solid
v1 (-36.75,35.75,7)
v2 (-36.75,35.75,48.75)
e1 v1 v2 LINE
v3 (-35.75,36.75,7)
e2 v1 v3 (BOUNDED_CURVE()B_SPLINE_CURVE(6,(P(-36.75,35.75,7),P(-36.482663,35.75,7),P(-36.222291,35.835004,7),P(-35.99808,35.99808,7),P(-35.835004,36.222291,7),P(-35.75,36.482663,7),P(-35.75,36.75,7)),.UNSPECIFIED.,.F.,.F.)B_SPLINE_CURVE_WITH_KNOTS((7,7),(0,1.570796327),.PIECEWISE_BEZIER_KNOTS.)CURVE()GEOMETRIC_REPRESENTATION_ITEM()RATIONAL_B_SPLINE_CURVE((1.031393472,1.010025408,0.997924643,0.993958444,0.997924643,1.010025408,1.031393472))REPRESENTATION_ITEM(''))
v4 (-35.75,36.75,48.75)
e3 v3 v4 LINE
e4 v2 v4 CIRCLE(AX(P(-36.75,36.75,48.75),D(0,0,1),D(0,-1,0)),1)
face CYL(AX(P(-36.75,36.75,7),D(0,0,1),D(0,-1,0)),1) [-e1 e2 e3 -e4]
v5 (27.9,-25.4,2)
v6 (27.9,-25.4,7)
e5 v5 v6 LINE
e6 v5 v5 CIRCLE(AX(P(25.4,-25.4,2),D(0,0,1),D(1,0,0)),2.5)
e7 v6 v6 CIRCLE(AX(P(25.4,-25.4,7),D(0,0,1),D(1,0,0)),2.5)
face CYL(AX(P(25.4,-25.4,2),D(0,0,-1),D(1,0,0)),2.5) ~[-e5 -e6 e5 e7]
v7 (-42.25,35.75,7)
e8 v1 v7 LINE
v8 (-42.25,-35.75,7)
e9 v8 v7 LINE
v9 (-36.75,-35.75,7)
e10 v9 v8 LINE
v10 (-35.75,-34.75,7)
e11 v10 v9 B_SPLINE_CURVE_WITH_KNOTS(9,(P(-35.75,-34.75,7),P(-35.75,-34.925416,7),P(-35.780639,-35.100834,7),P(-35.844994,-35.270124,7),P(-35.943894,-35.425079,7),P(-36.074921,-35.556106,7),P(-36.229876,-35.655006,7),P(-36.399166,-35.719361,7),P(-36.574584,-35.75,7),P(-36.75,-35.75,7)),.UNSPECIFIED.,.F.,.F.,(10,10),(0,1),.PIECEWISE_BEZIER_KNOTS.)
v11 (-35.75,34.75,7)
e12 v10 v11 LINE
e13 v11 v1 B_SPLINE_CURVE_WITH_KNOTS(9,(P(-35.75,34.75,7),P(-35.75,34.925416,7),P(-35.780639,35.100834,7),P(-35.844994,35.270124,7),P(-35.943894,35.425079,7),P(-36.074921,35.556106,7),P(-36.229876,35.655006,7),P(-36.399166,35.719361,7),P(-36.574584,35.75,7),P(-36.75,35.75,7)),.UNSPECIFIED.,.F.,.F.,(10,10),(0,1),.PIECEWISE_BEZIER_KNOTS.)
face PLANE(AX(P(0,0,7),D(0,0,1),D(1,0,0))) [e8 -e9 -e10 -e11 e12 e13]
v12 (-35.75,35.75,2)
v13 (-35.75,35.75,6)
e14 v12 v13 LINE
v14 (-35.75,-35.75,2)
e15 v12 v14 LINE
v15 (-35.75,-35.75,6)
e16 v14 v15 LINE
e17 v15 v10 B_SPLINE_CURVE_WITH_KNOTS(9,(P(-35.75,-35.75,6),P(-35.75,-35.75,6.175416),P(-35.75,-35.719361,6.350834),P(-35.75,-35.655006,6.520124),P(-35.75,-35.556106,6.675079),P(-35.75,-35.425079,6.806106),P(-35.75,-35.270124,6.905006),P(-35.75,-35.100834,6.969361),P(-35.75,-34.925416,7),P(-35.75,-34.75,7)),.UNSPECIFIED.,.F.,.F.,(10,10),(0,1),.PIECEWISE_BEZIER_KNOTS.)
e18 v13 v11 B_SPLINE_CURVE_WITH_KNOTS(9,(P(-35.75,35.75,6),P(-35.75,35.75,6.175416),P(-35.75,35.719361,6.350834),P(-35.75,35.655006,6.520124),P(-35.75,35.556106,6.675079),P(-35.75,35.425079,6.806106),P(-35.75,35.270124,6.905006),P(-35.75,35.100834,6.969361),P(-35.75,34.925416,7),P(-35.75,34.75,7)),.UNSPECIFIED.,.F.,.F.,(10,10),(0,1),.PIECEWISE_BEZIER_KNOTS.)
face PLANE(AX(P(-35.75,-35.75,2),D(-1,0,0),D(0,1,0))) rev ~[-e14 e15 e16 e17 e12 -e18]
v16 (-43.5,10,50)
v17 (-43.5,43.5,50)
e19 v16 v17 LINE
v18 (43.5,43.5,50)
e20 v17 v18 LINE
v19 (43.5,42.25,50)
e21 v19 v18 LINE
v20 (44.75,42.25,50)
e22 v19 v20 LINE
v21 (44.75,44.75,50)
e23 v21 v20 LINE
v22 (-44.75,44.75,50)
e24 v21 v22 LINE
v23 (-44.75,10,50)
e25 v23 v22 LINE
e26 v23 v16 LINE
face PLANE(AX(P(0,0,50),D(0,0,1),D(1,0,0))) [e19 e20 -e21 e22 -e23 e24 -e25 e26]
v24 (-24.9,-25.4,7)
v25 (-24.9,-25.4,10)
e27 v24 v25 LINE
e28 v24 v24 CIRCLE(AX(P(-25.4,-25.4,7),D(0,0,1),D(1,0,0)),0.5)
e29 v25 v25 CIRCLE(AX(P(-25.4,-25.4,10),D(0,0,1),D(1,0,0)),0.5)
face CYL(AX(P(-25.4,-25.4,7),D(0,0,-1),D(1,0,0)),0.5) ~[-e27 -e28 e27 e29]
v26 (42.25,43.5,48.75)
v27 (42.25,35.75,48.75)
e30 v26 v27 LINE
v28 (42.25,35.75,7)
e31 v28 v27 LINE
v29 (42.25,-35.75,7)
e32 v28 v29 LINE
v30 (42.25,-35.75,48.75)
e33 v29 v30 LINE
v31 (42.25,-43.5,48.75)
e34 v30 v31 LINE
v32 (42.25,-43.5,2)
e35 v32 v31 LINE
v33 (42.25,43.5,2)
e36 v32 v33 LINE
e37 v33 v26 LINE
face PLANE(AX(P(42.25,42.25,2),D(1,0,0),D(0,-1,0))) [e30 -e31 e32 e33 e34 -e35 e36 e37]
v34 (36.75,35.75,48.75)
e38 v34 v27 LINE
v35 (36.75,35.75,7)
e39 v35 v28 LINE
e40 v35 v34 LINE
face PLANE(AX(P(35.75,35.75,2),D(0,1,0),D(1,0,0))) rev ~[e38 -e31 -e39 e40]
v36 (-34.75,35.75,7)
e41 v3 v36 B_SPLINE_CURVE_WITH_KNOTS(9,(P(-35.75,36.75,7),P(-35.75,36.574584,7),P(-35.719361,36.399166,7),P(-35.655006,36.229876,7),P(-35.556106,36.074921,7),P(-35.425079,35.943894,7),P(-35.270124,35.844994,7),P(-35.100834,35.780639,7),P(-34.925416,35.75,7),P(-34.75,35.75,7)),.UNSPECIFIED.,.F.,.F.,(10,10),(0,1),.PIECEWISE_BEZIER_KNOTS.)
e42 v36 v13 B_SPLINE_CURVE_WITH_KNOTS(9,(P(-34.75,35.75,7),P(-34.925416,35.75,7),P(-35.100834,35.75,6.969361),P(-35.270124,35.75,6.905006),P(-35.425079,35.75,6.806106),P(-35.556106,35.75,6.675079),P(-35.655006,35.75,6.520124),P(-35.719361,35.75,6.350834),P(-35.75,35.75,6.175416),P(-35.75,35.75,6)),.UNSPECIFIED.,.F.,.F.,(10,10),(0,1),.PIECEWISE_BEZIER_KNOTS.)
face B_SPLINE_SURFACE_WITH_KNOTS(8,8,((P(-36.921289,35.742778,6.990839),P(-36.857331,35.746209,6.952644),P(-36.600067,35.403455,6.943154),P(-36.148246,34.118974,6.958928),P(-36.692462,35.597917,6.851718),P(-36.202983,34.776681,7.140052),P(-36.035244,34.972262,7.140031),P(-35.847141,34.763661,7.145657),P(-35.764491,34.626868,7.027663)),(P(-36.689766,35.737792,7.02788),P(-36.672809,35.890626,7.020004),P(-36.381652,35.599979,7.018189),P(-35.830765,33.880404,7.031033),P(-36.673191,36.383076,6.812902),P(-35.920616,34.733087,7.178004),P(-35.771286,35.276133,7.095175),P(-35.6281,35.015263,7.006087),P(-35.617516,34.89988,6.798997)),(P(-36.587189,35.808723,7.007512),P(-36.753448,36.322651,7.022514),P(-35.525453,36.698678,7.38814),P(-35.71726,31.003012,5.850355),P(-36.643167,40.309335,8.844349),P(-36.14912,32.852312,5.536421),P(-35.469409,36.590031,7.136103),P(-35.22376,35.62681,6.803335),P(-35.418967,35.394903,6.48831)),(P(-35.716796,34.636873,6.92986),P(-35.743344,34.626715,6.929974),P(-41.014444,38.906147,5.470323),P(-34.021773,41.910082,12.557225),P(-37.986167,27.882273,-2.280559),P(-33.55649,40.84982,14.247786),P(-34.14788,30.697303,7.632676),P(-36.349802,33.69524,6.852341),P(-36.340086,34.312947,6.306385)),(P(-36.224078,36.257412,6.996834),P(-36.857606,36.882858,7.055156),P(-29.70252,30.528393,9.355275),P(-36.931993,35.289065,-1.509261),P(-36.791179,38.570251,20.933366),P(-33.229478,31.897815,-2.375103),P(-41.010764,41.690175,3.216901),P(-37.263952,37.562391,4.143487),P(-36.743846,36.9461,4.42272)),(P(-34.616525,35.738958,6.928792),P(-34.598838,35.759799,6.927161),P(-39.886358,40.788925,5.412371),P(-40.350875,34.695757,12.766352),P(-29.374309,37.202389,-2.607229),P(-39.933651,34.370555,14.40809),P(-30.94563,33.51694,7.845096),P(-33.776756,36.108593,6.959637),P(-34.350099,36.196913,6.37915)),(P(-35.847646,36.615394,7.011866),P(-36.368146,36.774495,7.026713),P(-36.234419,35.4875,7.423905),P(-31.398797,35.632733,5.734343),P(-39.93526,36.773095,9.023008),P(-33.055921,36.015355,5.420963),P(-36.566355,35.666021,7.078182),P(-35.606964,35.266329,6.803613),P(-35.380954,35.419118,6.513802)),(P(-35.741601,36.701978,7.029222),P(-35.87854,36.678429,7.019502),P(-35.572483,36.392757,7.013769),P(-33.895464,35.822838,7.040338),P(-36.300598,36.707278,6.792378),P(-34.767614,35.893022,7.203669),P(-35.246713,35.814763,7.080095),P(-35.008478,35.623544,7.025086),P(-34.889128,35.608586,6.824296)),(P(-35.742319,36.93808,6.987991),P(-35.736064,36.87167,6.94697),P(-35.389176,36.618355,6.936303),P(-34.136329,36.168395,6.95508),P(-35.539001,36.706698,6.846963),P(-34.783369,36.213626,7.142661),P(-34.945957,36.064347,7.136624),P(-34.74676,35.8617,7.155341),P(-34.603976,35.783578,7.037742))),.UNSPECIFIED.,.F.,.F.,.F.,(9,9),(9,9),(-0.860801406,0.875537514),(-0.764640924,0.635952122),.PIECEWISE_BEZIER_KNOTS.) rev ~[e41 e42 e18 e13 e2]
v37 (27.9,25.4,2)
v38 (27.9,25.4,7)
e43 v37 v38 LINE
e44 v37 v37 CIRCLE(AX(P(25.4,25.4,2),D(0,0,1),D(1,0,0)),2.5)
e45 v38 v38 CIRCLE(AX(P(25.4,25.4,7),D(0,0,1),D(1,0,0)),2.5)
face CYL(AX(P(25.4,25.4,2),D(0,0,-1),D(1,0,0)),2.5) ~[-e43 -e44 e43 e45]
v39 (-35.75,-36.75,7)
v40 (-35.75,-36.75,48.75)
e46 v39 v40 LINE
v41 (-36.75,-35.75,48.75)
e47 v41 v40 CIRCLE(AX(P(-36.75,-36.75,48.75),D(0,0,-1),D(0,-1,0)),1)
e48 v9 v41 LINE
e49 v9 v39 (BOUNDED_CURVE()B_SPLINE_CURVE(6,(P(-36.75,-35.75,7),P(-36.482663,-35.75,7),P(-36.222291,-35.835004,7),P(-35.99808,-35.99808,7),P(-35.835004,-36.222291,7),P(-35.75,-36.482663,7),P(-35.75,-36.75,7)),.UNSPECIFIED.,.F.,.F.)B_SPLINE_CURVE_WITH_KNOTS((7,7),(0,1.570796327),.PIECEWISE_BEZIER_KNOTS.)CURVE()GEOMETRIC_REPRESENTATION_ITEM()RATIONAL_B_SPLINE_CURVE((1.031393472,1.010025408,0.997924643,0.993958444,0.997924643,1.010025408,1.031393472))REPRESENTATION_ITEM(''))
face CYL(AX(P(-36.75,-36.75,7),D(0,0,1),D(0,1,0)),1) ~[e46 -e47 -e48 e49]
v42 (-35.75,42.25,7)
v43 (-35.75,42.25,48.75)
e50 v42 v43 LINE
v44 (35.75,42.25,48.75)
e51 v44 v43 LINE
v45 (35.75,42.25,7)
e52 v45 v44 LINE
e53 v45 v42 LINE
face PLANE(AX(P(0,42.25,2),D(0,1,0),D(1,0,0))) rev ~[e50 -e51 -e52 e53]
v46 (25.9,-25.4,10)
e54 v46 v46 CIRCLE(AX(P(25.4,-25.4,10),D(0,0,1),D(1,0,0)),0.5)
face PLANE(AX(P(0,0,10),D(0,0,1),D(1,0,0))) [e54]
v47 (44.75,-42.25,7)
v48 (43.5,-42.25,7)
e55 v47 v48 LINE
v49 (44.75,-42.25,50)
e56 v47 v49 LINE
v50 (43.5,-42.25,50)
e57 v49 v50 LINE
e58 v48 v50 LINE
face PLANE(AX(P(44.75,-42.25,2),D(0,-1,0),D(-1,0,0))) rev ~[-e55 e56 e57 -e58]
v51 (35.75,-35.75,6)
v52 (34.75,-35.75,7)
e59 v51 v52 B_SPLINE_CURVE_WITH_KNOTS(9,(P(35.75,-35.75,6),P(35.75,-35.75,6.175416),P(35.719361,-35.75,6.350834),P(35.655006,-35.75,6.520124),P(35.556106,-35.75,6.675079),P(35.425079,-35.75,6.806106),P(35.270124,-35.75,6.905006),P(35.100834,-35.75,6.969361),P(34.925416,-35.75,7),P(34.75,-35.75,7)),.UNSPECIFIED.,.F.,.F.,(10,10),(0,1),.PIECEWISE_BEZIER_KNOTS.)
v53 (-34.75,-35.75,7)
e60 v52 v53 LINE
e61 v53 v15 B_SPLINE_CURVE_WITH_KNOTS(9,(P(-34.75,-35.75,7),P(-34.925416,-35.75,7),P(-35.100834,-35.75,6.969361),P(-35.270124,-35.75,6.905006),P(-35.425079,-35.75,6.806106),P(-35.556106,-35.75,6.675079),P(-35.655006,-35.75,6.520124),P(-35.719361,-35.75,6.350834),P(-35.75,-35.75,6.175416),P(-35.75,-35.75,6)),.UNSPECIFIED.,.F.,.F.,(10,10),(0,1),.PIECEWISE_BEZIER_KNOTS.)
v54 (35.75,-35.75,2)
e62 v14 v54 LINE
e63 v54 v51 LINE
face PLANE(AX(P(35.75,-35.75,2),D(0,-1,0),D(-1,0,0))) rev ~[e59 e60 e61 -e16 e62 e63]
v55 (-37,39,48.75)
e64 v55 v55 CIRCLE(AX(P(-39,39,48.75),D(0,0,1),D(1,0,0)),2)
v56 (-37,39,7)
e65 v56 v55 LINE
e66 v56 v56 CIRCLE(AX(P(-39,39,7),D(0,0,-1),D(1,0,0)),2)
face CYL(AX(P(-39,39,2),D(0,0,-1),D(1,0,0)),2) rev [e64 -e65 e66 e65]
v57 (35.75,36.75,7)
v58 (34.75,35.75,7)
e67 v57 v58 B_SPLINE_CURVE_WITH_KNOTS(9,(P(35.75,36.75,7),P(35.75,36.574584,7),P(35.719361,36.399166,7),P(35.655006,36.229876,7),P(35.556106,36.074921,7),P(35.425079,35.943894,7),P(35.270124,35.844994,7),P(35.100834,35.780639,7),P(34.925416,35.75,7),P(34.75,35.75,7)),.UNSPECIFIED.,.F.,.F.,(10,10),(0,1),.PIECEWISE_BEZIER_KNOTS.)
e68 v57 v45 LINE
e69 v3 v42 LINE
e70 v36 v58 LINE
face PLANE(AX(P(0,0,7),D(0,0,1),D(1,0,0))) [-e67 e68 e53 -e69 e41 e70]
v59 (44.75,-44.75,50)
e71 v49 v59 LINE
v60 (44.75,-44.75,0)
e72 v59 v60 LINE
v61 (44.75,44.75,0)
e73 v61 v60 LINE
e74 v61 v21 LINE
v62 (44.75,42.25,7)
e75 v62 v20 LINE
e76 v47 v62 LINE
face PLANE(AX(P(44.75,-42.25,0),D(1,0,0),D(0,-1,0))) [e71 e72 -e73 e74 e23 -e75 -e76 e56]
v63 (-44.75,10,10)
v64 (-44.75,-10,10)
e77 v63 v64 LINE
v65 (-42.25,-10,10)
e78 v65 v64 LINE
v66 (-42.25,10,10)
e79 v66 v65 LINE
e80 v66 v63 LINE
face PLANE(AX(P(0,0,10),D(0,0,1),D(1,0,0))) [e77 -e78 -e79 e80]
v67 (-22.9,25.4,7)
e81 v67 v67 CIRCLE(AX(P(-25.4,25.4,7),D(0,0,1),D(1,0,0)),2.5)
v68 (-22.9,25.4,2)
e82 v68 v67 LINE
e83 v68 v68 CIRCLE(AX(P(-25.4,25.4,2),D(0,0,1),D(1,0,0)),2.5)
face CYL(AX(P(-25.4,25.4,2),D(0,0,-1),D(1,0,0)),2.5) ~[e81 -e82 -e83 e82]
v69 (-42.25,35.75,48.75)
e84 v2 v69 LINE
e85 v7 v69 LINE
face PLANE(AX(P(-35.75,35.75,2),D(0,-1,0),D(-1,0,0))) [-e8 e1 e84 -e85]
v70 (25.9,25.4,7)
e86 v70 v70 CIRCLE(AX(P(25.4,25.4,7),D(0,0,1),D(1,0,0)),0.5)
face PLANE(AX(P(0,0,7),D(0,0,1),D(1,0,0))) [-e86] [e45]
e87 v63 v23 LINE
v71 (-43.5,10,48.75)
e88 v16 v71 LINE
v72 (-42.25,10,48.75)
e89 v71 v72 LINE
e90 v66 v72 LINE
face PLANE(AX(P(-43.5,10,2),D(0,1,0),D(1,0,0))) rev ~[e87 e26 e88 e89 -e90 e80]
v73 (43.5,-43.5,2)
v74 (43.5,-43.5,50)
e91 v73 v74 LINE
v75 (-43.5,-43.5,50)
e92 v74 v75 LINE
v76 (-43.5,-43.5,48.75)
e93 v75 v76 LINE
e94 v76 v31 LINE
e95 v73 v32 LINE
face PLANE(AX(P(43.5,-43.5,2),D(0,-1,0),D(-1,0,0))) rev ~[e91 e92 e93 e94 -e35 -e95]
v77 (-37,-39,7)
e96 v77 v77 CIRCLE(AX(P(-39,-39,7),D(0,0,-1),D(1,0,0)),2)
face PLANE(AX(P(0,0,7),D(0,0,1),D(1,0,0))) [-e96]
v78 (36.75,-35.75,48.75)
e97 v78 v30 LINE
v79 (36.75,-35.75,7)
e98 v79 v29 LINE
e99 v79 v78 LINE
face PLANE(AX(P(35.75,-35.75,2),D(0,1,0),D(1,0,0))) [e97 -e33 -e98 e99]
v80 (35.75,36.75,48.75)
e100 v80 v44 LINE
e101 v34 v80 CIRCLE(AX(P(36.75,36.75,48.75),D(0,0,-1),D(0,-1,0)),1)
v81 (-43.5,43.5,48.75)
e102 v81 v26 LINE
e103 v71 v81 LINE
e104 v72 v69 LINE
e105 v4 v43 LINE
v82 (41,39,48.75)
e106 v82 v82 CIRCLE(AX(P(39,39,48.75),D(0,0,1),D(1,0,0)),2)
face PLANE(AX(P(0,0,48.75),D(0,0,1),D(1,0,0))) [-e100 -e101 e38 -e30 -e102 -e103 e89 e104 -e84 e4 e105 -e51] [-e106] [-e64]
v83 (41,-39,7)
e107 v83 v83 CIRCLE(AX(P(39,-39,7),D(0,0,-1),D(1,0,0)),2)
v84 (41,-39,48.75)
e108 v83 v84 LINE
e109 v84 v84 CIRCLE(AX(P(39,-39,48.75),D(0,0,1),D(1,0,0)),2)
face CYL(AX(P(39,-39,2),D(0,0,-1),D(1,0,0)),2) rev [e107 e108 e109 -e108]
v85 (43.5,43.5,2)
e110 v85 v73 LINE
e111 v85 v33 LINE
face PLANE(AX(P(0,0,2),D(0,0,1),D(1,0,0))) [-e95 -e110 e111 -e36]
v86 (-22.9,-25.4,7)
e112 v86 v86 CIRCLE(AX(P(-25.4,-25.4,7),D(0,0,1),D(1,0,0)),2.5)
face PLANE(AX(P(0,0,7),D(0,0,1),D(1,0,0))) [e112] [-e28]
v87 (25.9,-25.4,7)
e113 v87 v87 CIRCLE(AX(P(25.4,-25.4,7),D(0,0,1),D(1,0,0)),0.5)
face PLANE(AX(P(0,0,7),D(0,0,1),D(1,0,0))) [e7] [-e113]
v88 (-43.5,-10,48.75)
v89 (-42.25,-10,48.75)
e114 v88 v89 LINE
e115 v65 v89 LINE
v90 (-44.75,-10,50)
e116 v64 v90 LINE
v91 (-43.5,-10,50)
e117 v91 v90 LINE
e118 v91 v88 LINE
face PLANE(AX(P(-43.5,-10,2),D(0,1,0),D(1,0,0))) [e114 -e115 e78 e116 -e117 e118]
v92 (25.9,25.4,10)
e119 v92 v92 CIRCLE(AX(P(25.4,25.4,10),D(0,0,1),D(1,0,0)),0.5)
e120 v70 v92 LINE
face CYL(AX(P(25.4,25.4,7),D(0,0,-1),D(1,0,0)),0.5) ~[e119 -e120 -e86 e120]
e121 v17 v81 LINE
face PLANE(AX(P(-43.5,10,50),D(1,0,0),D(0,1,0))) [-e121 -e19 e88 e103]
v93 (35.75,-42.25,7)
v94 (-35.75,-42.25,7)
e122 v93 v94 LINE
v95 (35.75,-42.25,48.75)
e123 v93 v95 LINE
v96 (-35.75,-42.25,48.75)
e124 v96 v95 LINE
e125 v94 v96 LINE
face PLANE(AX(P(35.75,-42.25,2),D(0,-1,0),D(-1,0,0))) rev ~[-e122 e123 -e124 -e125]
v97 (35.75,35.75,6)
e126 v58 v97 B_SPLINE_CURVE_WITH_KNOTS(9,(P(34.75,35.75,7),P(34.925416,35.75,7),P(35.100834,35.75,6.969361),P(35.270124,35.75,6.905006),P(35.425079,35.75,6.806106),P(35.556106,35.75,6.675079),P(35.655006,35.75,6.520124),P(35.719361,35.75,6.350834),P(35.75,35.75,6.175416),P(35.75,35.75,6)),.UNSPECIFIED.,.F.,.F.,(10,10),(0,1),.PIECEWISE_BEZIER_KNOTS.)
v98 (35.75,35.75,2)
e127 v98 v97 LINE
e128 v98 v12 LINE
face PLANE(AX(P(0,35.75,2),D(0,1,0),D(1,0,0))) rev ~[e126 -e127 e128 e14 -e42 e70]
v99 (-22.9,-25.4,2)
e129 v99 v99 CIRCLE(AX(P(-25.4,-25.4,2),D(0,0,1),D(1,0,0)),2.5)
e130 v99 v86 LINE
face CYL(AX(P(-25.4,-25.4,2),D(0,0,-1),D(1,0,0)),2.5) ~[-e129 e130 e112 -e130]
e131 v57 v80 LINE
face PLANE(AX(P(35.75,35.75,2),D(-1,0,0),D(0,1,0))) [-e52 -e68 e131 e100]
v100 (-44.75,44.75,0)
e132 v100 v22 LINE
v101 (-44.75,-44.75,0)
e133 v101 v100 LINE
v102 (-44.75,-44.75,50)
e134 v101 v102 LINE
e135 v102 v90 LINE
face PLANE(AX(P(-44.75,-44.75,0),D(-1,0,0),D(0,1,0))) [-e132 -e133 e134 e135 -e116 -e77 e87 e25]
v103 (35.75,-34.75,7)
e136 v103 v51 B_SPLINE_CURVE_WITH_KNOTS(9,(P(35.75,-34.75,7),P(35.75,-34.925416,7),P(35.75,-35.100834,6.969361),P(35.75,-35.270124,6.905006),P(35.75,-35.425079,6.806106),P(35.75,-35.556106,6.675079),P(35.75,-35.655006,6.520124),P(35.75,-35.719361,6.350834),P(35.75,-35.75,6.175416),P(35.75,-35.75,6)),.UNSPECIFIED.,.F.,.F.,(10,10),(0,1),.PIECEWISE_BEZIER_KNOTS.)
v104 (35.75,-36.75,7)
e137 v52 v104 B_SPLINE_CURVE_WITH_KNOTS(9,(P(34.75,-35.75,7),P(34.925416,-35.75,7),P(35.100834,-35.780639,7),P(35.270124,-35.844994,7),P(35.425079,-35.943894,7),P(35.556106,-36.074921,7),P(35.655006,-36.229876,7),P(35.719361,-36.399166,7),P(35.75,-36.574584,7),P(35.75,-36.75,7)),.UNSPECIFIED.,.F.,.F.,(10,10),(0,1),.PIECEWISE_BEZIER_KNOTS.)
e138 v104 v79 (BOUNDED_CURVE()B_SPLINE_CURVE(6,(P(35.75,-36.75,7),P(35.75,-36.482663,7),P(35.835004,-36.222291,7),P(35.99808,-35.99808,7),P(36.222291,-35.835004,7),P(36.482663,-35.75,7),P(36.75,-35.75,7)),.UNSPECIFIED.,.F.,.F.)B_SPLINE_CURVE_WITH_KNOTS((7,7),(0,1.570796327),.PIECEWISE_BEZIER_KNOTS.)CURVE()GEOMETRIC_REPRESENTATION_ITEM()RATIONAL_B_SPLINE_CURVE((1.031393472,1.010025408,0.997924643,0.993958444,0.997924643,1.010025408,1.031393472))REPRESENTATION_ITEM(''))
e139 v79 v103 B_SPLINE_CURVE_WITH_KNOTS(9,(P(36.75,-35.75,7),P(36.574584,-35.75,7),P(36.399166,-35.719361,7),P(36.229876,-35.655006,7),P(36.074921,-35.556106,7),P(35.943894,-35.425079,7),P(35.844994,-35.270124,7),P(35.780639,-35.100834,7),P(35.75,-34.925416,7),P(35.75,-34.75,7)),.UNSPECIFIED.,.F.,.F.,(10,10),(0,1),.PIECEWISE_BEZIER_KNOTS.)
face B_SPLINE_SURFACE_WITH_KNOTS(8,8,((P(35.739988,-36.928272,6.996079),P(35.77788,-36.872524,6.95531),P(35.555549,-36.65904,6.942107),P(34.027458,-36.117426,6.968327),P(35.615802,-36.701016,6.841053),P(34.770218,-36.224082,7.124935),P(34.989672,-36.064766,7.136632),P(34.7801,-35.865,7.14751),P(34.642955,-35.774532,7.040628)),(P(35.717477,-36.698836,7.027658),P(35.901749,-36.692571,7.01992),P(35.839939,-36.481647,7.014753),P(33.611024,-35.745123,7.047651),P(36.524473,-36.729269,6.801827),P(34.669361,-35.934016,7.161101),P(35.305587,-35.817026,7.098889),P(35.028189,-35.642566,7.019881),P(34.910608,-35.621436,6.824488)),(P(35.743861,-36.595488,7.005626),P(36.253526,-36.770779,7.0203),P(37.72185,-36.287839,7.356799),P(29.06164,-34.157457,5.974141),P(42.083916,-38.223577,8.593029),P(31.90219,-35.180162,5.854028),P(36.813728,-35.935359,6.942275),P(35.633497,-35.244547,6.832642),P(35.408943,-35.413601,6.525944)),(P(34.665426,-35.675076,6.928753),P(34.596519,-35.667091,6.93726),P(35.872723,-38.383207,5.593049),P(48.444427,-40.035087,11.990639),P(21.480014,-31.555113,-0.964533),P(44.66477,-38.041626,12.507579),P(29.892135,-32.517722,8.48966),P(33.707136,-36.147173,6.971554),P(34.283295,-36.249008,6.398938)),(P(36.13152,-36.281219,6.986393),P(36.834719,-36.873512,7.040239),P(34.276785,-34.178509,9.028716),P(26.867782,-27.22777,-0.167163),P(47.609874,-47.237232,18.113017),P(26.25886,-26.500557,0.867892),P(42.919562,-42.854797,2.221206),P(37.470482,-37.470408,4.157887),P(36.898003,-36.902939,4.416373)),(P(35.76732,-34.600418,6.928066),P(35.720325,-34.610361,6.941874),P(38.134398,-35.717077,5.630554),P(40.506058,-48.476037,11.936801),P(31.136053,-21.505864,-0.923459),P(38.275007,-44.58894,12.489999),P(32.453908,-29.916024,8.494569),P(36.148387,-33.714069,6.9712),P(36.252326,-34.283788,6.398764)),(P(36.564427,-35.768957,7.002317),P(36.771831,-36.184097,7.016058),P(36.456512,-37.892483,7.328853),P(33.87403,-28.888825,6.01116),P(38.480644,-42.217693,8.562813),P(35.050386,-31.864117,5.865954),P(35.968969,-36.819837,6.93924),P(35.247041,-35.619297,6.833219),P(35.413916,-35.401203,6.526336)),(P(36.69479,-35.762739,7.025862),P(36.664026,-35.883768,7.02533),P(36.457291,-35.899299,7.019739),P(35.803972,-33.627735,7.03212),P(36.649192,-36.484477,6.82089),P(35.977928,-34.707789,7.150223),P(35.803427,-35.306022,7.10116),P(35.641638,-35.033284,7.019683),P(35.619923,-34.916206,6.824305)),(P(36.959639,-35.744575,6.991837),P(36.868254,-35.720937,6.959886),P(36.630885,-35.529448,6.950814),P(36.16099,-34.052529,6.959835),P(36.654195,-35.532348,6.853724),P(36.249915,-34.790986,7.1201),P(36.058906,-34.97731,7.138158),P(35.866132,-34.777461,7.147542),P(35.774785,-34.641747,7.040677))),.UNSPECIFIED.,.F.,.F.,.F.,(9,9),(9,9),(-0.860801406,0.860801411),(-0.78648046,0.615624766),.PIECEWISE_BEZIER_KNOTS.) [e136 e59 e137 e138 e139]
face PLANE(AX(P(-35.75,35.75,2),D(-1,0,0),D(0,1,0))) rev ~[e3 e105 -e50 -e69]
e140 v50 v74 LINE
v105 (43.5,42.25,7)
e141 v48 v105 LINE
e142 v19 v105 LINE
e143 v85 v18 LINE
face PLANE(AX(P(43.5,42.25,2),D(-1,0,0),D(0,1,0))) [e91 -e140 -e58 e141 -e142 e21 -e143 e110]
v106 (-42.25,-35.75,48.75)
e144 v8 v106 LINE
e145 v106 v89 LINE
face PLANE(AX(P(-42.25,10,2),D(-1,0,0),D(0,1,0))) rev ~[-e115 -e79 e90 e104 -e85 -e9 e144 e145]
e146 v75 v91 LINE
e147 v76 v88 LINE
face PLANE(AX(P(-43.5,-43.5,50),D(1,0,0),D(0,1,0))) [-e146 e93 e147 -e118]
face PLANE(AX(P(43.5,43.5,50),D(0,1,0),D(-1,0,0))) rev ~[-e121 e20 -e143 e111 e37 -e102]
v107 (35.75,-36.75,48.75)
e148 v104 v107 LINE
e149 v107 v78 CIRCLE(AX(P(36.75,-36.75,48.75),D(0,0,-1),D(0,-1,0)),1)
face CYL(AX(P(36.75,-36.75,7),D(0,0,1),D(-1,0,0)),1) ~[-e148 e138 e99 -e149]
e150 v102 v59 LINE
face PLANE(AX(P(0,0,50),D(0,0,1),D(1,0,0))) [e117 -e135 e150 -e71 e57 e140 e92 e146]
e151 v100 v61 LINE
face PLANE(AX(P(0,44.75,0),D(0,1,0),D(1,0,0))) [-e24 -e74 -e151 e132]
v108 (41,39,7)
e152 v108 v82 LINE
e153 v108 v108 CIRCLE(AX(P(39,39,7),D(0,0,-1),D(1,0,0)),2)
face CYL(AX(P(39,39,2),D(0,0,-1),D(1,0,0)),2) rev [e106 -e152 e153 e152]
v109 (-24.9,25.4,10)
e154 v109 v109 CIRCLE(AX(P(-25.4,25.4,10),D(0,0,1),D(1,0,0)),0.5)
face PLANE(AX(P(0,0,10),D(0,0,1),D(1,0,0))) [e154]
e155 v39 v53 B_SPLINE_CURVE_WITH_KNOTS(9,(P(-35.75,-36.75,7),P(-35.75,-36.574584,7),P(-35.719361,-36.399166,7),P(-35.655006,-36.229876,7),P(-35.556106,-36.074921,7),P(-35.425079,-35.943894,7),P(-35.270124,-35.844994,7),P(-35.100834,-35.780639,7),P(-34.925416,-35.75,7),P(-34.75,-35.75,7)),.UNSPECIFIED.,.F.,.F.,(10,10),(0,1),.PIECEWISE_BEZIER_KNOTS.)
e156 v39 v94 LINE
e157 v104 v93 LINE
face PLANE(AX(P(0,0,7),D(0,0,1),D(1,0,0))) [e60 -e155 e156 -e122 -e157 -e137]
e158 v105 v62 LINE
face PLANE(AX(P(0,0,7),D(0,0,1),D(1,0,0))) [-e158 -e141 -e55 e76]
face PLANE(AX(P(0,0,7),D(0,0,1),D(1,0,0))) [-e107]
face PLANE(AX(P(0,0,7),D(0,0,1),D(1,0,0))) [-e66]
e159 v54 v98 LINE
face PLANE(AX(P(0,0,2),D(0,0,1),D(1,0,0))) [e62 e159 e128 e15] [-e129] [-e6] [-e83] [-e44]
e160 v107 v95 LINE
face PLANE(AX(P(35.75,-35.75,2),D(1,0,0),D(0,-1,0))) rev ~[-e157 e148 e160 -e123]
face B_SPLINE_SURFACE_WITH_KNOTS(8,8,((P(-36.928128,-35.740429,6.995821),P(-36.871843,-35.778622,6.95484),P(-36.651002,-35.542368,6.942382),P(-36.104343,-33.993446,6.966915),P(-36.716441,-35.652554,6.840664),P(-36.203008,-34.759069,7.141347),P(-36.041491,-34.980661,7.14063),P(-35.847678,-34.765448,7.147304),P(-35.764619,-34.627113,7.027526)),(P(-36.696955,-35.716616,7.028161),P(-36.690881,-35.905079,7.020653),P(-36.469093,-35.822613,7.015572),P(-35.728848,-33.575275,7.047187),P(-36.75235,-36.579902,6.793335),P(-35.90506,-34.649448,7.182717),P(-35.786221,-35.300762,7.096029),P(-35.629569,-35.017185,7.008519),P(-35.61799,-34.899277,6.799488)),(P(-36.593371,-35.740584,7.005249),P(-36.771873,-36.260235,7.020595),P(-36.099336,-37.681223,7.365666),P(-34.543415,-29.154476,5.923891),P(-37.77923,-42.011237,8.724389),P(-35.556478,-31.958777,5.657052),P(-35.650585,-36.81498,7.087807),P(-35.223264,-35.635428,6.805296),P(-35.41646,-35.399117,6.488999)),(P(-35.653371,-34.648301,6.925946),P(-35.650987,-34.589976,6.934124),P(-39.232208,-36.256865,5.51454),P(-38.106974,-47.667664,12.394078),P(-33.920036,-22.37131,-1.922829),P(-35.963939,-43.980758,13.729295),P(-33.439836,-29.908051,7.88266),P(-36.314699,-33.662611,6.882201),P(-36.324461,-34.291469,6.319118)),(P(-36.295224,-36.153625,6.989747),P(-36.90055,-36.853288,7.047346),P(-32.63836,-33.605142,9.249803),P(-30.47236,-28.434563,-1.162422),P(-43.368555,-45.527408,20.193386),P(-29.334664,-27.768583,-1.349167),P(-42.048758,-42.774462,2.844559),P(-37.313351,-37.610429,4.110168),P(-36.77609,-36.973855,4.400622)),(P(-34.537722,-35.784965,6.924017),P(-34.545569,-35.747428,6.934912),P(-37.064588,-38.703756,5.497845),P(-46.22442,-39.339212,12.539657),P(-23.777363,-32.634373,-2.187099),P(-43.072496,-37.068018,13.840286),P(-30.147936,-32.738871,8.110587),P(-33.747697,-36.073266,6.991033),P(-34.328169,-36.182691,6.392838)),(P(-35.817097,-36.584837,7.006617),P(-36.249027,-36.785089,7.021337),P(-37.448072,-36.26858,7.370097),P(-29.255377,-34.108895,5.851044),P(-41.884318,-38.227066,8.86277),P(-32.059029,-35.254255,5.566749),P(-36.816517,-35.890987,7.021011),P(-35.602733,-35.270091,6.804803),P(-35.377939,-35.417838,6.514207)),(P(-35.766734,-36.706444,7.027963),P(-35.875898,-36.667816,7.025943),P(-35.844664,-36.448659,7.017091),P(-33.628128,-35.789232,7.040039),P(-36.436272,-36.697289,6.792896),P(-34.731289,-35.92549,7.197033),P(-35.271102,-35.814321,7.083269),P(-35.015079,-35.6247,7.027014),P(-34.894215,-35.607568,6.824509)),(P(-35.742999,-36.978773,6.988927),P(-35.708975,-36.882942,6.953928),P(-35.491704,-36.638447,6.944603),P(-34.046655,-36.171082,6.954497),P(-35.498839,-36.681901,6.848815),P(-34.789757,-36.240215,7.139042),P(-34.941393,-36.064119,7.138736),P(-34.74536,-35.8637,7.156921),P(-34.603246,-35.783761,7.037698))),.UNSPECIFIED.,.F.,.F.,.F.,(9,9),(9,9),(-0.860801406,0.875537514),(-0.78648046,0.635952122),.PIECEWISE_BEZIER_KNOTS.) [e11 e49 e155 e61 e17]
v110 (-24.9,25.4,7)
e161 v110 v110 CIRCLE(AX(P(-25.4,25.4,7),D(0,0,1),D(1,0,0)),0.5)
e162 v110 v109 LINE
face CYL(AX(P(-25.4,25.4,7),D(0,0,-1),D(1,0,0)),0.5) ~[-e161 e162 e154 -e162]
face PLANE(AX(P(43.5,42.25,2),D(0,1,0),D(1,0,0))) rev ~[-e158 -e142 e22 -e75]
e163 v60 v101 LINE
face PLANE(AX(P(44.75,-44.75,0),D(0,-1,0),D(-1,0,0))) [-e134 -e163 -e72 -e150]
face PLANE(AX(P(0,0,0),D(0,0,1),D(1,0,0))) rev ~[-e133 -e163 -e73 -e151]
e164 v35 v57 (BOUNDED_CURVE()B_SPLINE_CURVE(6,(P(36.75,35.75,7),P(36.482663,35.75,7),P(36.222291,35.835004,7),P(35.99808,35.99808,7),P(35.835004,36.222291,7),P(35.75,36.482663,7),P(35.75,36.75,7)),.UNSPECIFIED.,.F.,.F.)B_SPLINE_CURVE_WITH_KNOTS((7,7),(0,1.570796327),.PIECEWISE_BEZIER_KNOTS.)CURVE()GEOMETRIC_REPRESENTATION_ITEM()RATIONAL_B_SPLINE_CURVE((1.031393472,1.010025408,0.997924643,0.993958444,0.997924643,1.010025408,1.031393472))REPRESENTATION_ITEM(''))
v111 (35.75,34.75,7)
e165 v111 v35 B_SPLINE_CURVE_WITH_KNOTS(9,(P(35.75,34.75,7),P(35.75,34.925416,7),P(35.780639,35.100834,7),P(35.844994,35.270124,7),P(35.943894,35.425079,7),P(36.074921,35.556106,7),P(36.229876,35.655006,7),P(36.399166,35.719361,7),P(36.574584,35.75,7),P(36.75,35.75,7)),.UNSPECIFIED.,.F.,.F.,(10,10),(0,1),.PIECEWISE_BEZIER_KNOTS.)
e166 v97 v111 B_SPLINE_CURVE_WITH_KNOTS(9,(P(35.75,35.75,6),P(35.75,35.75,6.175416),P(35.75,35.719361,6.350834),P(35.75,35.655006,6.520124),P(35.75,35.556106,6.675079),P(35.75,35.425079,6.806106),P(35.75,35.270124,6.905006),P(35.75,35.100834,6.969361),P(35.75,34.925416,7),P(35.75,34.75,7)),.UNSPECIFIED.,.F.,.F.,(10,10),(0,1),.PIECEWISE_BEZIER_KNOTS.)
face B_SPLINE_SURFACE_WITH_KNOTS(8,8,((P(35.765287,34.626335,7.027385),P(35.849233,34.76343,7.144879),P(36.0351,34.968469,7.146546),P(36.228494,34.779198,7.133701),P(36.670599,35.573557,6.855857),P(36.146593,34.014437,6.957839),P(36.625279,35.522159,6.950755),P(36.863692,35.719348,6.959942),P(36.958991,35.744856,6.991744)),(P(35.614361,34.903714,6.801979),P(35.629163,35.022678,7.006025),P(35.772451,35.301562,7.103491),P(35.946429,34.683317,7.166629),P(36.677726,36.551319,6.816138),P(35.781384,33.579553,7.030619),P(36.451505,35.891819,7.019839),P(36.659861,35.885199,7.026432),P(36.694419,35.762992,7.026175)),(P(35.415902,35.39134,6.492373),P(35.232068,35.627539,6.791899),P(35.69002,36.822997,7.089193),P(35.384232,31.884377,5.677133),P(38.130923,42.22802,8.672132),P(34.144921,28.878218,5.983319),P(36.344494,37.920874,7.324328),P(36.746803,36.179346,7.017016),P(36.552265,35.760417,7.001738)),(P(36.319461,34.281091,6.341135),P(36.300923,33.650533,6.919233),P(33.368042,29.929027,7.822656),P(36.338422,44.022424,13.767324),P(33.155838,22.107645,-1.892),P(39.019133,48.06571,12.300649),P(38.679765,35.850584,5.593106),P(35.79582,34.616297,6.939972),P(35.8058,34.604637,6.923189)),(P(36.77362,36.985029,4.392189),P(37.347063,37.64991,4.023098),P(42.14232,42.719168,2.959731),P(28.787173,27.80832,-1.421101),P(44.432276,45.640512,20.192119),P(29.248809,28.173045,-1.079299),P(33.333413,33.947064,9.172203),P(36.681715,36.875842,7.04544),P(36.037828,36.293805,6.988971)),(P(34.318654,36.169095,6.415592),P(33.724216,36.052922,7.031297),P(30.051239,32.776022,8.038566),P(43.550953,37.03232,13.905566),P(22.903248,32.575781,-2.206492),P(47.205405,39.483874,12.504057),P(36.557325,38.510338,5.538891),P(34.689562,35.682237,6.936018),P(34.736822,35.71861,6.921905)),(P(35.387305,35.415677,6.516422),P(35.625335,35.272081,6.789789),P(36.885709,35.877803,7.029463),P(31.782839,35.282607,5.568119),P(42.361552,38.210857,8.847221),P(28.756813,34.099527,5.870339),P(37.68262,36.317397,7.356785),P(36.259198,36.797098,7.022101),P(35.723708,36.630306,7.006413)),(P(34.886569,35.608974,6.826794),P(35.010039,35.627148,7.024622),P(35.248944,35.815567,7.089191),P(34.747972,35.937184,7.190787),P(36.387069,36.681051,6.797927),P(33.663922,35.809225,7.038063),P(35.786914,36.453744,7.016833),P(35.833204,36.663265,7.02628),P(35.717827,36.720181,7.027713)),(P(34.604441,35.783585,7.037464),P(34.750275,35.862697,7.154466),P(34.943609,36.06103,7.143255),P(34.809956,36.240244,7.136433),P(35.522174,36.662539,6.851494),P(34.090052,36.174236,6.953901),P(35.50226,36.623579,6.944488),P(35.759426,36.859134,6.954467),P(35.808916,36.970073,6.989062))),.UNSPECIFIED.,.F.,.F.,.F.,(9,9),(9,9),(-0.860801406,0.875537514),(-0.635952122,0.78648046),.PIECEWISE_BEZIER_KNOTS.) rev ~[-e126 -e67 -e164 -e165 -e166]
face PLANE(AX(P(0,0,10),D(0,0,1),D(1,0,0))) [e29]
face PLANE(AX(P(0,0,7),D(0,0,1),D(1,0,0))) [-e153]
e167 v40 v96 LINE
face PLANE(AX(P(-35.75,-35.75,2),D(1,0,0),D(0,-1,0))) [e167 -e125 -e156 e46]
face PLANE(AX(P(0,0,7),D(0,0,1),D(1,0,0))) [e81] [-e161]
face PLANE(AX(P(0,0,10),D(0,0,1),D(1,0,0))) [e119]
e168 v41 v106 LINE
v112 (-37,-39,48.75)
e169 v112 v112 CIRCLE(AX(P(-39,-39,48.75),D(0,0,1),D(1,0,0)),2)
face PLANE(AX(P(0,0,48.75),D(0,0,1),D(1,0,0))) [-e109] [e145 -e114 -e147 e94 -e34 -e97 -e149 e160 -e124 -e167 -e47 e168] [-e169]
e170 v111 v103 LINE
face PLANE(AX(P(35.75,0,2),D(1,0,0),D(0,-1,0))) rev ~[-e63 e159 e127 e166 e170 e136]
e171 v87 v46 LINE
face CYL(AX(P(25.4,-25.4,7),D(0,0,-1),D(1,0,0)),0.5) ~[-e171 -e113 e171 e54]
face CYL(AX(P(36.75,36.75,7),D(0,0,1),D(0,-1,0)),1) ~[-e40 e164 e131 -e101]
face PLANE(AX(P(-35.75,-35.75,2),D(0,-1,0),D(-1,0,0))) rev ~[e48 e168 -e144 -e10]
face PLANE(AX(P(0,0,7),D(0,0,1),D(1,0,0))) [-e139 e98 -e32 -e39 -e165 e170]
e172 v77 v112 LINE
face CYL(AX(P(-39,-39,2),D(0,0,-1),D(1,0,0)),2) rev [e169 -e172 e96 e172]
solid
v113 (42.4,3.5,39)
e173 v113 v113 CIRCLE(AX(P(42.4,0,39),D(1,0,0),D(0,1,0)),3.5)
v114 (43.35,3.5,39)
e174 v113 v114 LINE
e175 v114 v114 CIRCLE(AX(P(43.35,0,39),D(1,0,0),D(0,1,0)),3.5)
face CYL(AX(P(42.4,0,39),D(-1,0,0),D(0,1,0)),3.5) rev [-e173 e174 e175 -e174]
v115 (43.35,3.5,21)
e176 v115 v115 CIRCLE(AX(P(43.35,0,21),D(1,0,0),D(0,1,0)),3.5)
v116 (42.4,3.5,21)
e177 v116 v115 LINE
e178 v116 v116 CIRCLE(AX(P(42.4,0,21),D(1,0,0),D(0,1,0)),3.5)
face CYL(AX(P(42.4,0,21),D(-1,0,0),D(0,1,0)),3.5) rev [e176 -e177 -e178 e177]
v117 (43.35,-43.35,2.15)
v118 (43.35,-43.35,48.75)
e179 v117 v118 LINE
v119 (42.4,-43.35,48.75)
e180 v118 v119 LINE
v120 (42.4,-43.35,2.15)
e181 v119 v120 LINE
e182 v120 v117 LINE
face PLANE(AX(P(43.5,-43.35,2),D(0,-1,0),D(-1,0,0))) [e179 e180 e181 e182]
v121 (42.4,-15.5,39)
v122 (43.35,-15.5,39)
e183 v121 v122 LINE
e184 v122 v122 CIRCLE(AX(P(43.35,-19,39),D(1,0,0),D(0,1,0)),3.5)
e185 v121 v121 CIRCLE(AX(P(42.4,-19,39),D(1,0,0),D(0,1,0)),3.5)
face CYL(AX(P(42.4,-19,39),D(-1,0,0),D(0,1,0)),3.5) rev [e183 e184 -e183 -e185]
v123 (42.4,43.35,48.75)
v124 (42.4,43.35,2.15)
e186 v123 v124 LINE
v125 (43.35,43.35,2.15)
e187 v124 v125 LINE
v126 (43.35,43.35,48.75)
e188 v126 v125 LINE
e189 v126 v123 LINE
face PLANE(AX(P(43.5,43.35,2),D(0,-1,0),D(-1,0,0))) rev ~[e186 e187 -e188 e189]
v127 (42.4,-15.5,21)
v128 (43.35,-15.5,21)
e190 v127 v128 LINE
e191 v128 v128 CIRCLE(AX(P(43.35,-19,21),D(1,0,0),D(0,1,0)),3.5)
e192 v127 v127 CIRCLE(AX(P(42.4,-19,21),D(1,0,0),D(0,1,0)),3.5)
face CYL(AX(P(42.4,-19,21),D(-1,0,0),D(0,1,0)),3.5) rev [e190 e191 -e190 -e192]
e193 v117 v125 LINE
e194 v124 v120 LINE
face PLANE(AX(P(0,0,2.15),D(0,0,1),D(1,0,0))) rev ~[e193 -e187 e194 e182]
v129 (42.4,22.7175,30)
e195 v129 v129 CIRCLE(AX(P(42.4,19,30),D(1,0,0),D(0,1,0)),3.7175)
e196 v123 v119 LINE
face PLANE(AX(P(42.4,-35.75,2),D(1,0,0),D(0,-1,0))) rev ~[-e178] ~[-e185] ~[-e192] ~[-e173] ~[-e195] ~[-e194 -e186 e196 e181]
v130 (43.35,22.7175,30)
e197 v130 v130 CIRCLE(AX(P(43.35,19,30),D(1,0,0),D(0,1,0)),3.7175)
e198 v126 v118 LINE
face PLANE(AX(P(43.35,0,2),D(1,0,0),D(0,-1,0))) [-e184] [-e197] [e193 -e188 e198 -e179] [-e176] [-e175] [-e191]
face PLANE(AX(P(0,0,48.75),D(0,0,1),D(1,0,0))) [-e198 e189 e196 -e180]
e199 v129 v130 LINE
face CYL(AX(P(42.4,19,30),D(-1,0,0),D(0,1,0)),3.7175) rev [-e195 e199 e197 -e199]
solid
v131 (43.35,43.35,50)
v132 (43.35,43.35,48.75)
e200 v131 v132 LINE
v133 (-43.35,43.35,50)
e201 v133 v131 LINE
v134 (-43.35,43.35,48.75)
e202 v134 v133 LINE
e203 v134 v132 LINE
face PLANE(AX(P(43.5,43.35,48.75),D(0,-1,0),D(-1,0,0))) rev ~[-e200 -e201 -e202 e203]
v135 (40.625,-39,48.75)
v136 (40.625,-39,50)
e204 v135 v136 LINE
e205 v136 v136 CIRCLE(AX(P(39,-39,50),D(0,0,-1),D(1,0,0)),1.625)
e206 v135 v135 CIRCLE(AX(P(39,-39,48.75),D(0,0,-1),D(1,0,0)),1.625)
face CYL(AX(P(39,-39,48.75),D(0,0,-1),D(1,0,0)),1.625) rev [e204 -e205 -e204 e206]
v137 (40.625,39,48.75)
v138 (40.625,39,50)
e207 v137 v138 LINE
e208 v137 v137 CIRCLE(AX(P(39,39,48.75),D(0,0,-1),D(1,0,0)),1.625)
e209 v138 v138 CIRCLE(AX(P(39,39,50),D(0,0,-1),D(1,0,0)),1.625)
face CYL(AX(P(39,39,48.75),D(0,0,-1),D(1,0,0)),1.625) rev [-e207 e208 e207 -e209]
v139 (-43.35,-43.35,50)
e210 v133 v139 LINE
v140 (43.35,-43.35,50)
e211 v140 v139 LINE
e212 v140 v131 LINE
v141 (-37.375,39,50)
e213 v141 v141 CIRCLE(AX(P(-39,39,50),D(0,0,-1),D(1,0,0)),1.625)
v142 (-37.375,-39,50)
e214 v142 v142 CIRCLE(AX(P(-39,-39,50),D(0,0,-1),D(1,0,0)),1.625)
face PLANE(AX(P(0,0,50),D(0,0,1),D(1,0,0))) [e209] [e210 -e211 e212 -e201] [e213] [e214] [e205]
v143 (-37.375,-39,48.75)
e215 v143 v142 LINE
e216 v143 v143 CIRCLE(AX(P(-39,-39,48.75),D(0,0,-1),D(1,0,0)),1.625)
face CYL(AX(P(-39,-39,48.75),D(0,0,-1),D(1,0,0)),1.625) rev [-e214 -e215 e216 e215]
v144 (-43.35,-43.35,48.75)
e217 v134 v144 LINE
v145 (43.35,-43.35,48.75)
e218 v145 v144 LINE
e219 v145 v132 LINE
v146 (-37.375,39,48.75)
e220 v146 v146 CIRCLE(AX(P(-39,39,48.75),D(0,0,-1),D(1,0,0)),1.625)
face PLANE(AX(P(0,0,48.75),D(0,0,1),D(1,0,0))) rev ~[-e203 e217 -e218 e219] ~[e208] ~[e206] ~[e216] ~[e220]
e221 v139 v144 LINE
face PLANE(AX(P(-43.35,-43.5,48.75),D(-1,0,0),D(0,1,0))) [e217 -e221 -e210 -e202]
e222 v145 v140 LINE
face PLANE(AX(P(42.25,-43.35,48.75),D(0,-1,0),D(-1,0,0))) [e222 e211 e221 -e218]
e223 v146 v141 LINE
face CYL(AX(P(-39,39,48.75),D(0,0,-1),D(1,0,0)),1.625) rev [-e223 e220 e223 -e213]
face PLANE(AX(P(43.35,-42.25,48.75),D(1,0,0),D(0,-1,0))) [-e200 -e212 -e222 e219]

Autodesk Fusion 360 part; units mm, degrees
sketch "Sketch1" plane through (0, 0, 0) normal (0, 0, 1) x (1, 0, 0)
  line L0 (42.25, -42.25) -> (-42.25, -42.25)
  line L1 (-42.25, -42.25) -> (-42.25, 42.25)
  line L2 (-42.25, 42.25) -> (42.25, 42.25)
  line L3 (42.25, 42.25) -> (42.25, -42.25)
  line L4 (42.25, -42.25) -> (-42.25, 42.25) construction
  line L5 (-42.25, -42.25) -> (42.25, 42.25) construction
  line L6 (44.75, -44.75) -> (-44.75, -44.75)
  line L7 (-44.75, -44.75) -> (-44.75, 44.75)
  line L8 (-44.75, 44.75) -> (44.75, 44.75)
  line L9 (44.75, 44.75) -> (44.75, -44.75)
  line L10 (44.75, -44.75) -> (-44.75, 44.75) construction
  line L11 (-44.75, -44.75) -> (44.75, 44.75) construction
  line L12 (44.75, -42.25) -> (42.25, -42.25)
  line L13 (42.25, 42.25) -> (44.75, 42.25)
  line L14 (43.5, -42.25) -> (43.5, -43.5)
  line L15 (42.25, -43.5) -> (42.25, -42.25)
  line L16 (43.5, -43.5) -> (42.25, -43.5)
  line L17 (44.75, 0) -> (-44.75, 0)
  circle A0 centre (25.4, -25.4) radius 0.5
  line L18 (0, -44.75) -> (0, 44.75)
  circle A1 centre (25.4, -25.4) radius 2.5
  circle A2 centre (25.4, 25.4) radius 2.5
  circle A3 centre (25.4, 25.4) radius 0.5
  line L19 (25.4, -25.4) -> (25.4, 25.4) construction
  circle A4 centre (-25.4, -25.4) radius 2.5
  circle A5 centre (-25.4, -25.4) radius 0.5
  circle A6 centre (-25.4, 25.4) radius 2.5
  circle A7 centre (-25.4, 25.4) radius 0.5
  line L20 (43.5, 43.5) -> (42.25, 43.5)
  line L21 (43.5, 42.25) -> (43.5, 43.5)
  line L22 (42.25, 43.5) -> (42.25, 42.25)
  line L23 (-44.75, 10) -> (-42.25, 10)
  line L24 (-44.75, -10) -> (-42.25, -10)
  line L25 (43.5, 42.25) -> (43.5, -42.25)
  line L26 (35.75, -35.75) -> (-35.75, -35.75)
  line L27 (-35.75, -35.75) -> (-35.75, 35.75)
  line L28 (-35.75, 35.75) -> (35.75, 35.75)
  line L29 (35.75, 35.75) -> (35.75, -35.75)
  line L30 (35.75, -35.75) -> (-35.75, 35.75) construction
  line L31 (-35.75, -35.75) -> (35.75, 35.75) construction
  line L32 (42.25, -43.5) -> (-43.5, -43.5)
  line L33 (-43.5, -43.5) -> (-43.5, 43.5)
  line L34 (-43.5, 43.5) -> (42.25, 43.5)
  line L35 (-35.75, -35.75) -> (-35.75, -42.25)
  line L36 (-35.75, -35.75) -> (-42.25, -35.75)
  circle A8 centre (-39, -39) radius 2
  line L37 (-39, -42.25) -> (-39, -35.75) construction
  line L38 (35.75, -35.75) -> (42.25, -35.75)
  line L39 (35.75, -35.75) -> (35.75, -42.25)
  circle A9 centre (39, -39) radius 2
  circle A10 centre (-39, 39) radius 2
  line L40 (-35.75, 35.75) -> (-42.25, 35.75)
  line L41 (-35.75, 35.75) -> (-35.75, 42.25)
  circle A11 centre (39, 39) radius 2
  line L42 (35.75, 35.75) -> (35.75, 42.25)
  line L43 (35.75, 35.75) -> (42.25, 35.75)
  circle A12 centre (-39, -39) radius 1.625
  circle A13 centre (39, -39) radius 1.625
  circle A14 centre (-39, 39) radius 1.625
  circle A15 centre (39, 39) radius 1.625
  dimension "d2" = 84.5
  dimension "d3" = 2.5
  dimension "d6" = 1
  dimension "d7" = 5
  dimension "d9" = 50.8
  dimension "d15" = 20
  dimension "d35" = 6.5
  dimension "d46" = 4
  dimension "d52" = 3.25
extrude "Extrude1" add sketch "Sketch1" along normal blind 2 contours L0 L15 L18 L32 | L0 L3 L38 L39 | L3 L12 L17 L25 | L12 L14 L15 L16 | L0 L18 L26 L39 | L3 L17 L29 L38 | L9 L12 L17 L25 | L6 L9 L12 L14 L16 L18 L32 | L0 L1 L18 L24 L32 L33 | L0 L18 L26 L35 | L17 L18 L26 L29 | L3 L17 L29 L43 | L3 L13 L17 L25 | L9 L13 L17 L25 | L6 L7 L18 L24 L32 L33 | L0 L1 L35 L36 | L17 L18 L26 L27 | L17 L18 L28 L29 | L2 L3 L42 L43 | L8 L9 L13 L18 L20 L21 L34 | L13 L20 L21 L22 | L1 L17 L27 L36 | L17 L18 L27 L28 | L2 L18 L28 L42 | L2 L18 L22 L34 | L1 L17 L24 L33 | L7 L17 L24 L33 | L1 L17 L27 L40 | L2 L18 L28 L41 | L1 L17 L23 L33 | L7 L17 L23 L33 | L1 L2 L40 L41 | L1 L2 L18 L23 L33 L34 | L7 L8 L18 L23 L33 L34 | A0 | A1 | A2 | A3 | A4 | A5 | A6 | A7 | A8 | A9 | A10 | A11 | A12 | A13 | A14 | A15 makes body 1
extrude "Extrude2" add sketch "Sketch1" along normal blind 48 from surface at 2 contours L0 L15 L18 L32 | L0 L3 L38 L39 | L6 L9 L12 L14 L16 L18 L32 | L0 L1 L18 L24 L32 L33 | L6 L7 L18 L24 L32 L33 | L0 L1 L35 L36 | L2 L3 L42 L43 | L8 L9 L13 L18 L20 L21 L34 | L2 L18 L22 L34 | L1 L2 L40 L41 | L1 L2 L18 L23 L33 L34 | L7 L8 L18 L23 L33 L34 bodies 1
extrude "Extrude3" add sketch "Sketch1" along normal blind 5 from surface at 2 contours L0 L3 L38 L39 | L0 L18 L26 L39 | L3 L17 L29 L38 | L9 L12 L17 L25 | L0 L18 L26 L35 | L3 L17 L29 L43 | L9 L13 L17 L25 | L0 L1 L35 L36 | L2 L3 L42 L43 | L1 L17 L27 L36 | L2 L18 L28 L42 | L1 L17 L24 L33 | L7 L17 L24 L33 | L1 L17 L27 L40 | L2 L18 L28 L41 | L1 L17 L23 L33 | L7 L17 L23 L33 | L1 L2 L40 L41 | A0 | A1 | A2 | A3 | A4 | A5 | A6 | A7 | A8 | A9 | A10 | A11 | A12 | A13 | A14 | A15 bodies 1
extrude "Extrude4" add sketch "Sketch1" along normal blind 3 from surface at 7 contours L1 L17 L24 L33 | L7 L17 L24 L33 | L1 L17 L23 L33 | L7 L17 L23 L33 | A0 | A3 | A5 | A7 bodies 1
extrude "Extrude6" add sketch "Sketch1" along normal up to surface (48 mm away) from surface at 2 separate body contours L3 L12 L17 L25 | L12 L14 L15 L16 | L3 L13 L17 L25 | L13 L20 L21 L22 makes body 2
move_face "OffsetFaces3" offset -0.15 5 faces at (43.5, 14.5, 18) (43.0833, 43.5, 18) (42.25, 14.5, 18) (42.6667, 14.5, 2) (43.0833, -43.5, 18) on bodies 2
sketch "Sketch4" plane through (-42.25, 0, 0) normal (1, 0, 0) x (0, 1, 0)
  line L0 (-35.75, 7) -> (35.75, 7)
  line L1 (35.75, 50) -> (10, 50)
  line L2 (10, 50) -> (10, 10)
  line L3 (10, 10) -> (-10, 10)
  line L4 (-10, 10) -> (-10, 50)
  circle A0 centre (0, 39) radius 3.5
  line L5 (0, 0) -> (0, 50.8856) construction
  line L6 (-39.802, 30) -> (50, 30) construction
  line L7 (35.75, 7) -> (35.75, 50)
  line L8 (-10, 50) -> (-35.75, 50)
  line L9 (-35.75, 50) -> (-35.75, 7)
  circle A1 centre (0, 21) radius 3.5
  circle A2 centre (19, 30) radius 3.7175
  circle A3 centre (-19, 39) radius 3.5
  circle A4 centre (-19, 21) radius 3.5
  dimension "d41" = 7
  dimension "d44" = 30
  dimension "d57" = 9
  dimension "d61" = 19
  dimension "d62" = 7
  dimension "d63" = 19
extrude "Extrude7" cut sketch "Sketch4" along normal up to surface (0.95 mm away) from surface at 84.65 contours A0 | A1 | A2 | A3 | A4 bodies 2
extrude "Extrude8" cut sketch "Sketch1" against normal blind 1.25 from surface at 50 contours L0 L15 L18 L32 | L0 L3 L38 L39 | L3 L12 L17 L25 | L12 L14 L15 L16 | L0 L1 L18 L24 L32 L33 | L3 L13 L17 L25 | L0 L1 L35 L36 | L2 L3 L42 L43 | L13 L20 L21 L22 | L2 L18 L22 L34 | L1 L2 L40 L41 | L1 L2 L18 L23 L33 L34 bodies 1 2
fillet "Fillet1" radius 1 4 edges at (-35.75, 35.75, 27.875) (-35.75, -35.75, 27.875) (35.75, 35.75, 27.875) (35.75, -35.75, 27.875) on bodies 1
extrude "Extrude9" add sketch "Sketch1" along normal up to surface (1.25 mm away) from surface at 48.75 separate body contours L0 L15 L18 L32 | L0 L3 L38 L39 | L3 L12 L17 L25 | L12 L14 L15 L16 | L0 L18 L26 L39 | L3 L17 L29 L38 | L0 L1 L18 L24 L32 L33 | L0 L18 L26 L35 | L17 L18 L26 L29 | L3 L17 L29 L43 | L3 L13 L17 L25 | L0 L1 L35 L36 | L17 L18 L26 L27 | L17 L18 L28 L29 | L2 L3 L42 L43 | L13 L20 L21 L22 | L1 L17 L27 L36 | L17 L18 L27 L28 | L2 L18 L28 L42 | L2 L18 L22 L34 | L1 L17 L24 L33 | L1 L17 L27 L40 | L2 L18 L28 L41 | L1 L17 L23 L33 | L1 L2 L40 L41 | L1 L2 L18 L23 L33 L34 | A0 | A1 | A2 | A3 | A4 | A5 | A6 | A7 | A8 | A9 | A10 | A11 makes body 3
move_face "OffsetFaces4" offset -0.15 4 faces at (43.5, 14.5, 49.5833) (-14.5, 43.5, 49.1667) (-43.5, -14.5, 49.1667) (14.5, -43.5, 49.1667) on bodies 3
equation "d9 = 2.54 * 20 mm"
